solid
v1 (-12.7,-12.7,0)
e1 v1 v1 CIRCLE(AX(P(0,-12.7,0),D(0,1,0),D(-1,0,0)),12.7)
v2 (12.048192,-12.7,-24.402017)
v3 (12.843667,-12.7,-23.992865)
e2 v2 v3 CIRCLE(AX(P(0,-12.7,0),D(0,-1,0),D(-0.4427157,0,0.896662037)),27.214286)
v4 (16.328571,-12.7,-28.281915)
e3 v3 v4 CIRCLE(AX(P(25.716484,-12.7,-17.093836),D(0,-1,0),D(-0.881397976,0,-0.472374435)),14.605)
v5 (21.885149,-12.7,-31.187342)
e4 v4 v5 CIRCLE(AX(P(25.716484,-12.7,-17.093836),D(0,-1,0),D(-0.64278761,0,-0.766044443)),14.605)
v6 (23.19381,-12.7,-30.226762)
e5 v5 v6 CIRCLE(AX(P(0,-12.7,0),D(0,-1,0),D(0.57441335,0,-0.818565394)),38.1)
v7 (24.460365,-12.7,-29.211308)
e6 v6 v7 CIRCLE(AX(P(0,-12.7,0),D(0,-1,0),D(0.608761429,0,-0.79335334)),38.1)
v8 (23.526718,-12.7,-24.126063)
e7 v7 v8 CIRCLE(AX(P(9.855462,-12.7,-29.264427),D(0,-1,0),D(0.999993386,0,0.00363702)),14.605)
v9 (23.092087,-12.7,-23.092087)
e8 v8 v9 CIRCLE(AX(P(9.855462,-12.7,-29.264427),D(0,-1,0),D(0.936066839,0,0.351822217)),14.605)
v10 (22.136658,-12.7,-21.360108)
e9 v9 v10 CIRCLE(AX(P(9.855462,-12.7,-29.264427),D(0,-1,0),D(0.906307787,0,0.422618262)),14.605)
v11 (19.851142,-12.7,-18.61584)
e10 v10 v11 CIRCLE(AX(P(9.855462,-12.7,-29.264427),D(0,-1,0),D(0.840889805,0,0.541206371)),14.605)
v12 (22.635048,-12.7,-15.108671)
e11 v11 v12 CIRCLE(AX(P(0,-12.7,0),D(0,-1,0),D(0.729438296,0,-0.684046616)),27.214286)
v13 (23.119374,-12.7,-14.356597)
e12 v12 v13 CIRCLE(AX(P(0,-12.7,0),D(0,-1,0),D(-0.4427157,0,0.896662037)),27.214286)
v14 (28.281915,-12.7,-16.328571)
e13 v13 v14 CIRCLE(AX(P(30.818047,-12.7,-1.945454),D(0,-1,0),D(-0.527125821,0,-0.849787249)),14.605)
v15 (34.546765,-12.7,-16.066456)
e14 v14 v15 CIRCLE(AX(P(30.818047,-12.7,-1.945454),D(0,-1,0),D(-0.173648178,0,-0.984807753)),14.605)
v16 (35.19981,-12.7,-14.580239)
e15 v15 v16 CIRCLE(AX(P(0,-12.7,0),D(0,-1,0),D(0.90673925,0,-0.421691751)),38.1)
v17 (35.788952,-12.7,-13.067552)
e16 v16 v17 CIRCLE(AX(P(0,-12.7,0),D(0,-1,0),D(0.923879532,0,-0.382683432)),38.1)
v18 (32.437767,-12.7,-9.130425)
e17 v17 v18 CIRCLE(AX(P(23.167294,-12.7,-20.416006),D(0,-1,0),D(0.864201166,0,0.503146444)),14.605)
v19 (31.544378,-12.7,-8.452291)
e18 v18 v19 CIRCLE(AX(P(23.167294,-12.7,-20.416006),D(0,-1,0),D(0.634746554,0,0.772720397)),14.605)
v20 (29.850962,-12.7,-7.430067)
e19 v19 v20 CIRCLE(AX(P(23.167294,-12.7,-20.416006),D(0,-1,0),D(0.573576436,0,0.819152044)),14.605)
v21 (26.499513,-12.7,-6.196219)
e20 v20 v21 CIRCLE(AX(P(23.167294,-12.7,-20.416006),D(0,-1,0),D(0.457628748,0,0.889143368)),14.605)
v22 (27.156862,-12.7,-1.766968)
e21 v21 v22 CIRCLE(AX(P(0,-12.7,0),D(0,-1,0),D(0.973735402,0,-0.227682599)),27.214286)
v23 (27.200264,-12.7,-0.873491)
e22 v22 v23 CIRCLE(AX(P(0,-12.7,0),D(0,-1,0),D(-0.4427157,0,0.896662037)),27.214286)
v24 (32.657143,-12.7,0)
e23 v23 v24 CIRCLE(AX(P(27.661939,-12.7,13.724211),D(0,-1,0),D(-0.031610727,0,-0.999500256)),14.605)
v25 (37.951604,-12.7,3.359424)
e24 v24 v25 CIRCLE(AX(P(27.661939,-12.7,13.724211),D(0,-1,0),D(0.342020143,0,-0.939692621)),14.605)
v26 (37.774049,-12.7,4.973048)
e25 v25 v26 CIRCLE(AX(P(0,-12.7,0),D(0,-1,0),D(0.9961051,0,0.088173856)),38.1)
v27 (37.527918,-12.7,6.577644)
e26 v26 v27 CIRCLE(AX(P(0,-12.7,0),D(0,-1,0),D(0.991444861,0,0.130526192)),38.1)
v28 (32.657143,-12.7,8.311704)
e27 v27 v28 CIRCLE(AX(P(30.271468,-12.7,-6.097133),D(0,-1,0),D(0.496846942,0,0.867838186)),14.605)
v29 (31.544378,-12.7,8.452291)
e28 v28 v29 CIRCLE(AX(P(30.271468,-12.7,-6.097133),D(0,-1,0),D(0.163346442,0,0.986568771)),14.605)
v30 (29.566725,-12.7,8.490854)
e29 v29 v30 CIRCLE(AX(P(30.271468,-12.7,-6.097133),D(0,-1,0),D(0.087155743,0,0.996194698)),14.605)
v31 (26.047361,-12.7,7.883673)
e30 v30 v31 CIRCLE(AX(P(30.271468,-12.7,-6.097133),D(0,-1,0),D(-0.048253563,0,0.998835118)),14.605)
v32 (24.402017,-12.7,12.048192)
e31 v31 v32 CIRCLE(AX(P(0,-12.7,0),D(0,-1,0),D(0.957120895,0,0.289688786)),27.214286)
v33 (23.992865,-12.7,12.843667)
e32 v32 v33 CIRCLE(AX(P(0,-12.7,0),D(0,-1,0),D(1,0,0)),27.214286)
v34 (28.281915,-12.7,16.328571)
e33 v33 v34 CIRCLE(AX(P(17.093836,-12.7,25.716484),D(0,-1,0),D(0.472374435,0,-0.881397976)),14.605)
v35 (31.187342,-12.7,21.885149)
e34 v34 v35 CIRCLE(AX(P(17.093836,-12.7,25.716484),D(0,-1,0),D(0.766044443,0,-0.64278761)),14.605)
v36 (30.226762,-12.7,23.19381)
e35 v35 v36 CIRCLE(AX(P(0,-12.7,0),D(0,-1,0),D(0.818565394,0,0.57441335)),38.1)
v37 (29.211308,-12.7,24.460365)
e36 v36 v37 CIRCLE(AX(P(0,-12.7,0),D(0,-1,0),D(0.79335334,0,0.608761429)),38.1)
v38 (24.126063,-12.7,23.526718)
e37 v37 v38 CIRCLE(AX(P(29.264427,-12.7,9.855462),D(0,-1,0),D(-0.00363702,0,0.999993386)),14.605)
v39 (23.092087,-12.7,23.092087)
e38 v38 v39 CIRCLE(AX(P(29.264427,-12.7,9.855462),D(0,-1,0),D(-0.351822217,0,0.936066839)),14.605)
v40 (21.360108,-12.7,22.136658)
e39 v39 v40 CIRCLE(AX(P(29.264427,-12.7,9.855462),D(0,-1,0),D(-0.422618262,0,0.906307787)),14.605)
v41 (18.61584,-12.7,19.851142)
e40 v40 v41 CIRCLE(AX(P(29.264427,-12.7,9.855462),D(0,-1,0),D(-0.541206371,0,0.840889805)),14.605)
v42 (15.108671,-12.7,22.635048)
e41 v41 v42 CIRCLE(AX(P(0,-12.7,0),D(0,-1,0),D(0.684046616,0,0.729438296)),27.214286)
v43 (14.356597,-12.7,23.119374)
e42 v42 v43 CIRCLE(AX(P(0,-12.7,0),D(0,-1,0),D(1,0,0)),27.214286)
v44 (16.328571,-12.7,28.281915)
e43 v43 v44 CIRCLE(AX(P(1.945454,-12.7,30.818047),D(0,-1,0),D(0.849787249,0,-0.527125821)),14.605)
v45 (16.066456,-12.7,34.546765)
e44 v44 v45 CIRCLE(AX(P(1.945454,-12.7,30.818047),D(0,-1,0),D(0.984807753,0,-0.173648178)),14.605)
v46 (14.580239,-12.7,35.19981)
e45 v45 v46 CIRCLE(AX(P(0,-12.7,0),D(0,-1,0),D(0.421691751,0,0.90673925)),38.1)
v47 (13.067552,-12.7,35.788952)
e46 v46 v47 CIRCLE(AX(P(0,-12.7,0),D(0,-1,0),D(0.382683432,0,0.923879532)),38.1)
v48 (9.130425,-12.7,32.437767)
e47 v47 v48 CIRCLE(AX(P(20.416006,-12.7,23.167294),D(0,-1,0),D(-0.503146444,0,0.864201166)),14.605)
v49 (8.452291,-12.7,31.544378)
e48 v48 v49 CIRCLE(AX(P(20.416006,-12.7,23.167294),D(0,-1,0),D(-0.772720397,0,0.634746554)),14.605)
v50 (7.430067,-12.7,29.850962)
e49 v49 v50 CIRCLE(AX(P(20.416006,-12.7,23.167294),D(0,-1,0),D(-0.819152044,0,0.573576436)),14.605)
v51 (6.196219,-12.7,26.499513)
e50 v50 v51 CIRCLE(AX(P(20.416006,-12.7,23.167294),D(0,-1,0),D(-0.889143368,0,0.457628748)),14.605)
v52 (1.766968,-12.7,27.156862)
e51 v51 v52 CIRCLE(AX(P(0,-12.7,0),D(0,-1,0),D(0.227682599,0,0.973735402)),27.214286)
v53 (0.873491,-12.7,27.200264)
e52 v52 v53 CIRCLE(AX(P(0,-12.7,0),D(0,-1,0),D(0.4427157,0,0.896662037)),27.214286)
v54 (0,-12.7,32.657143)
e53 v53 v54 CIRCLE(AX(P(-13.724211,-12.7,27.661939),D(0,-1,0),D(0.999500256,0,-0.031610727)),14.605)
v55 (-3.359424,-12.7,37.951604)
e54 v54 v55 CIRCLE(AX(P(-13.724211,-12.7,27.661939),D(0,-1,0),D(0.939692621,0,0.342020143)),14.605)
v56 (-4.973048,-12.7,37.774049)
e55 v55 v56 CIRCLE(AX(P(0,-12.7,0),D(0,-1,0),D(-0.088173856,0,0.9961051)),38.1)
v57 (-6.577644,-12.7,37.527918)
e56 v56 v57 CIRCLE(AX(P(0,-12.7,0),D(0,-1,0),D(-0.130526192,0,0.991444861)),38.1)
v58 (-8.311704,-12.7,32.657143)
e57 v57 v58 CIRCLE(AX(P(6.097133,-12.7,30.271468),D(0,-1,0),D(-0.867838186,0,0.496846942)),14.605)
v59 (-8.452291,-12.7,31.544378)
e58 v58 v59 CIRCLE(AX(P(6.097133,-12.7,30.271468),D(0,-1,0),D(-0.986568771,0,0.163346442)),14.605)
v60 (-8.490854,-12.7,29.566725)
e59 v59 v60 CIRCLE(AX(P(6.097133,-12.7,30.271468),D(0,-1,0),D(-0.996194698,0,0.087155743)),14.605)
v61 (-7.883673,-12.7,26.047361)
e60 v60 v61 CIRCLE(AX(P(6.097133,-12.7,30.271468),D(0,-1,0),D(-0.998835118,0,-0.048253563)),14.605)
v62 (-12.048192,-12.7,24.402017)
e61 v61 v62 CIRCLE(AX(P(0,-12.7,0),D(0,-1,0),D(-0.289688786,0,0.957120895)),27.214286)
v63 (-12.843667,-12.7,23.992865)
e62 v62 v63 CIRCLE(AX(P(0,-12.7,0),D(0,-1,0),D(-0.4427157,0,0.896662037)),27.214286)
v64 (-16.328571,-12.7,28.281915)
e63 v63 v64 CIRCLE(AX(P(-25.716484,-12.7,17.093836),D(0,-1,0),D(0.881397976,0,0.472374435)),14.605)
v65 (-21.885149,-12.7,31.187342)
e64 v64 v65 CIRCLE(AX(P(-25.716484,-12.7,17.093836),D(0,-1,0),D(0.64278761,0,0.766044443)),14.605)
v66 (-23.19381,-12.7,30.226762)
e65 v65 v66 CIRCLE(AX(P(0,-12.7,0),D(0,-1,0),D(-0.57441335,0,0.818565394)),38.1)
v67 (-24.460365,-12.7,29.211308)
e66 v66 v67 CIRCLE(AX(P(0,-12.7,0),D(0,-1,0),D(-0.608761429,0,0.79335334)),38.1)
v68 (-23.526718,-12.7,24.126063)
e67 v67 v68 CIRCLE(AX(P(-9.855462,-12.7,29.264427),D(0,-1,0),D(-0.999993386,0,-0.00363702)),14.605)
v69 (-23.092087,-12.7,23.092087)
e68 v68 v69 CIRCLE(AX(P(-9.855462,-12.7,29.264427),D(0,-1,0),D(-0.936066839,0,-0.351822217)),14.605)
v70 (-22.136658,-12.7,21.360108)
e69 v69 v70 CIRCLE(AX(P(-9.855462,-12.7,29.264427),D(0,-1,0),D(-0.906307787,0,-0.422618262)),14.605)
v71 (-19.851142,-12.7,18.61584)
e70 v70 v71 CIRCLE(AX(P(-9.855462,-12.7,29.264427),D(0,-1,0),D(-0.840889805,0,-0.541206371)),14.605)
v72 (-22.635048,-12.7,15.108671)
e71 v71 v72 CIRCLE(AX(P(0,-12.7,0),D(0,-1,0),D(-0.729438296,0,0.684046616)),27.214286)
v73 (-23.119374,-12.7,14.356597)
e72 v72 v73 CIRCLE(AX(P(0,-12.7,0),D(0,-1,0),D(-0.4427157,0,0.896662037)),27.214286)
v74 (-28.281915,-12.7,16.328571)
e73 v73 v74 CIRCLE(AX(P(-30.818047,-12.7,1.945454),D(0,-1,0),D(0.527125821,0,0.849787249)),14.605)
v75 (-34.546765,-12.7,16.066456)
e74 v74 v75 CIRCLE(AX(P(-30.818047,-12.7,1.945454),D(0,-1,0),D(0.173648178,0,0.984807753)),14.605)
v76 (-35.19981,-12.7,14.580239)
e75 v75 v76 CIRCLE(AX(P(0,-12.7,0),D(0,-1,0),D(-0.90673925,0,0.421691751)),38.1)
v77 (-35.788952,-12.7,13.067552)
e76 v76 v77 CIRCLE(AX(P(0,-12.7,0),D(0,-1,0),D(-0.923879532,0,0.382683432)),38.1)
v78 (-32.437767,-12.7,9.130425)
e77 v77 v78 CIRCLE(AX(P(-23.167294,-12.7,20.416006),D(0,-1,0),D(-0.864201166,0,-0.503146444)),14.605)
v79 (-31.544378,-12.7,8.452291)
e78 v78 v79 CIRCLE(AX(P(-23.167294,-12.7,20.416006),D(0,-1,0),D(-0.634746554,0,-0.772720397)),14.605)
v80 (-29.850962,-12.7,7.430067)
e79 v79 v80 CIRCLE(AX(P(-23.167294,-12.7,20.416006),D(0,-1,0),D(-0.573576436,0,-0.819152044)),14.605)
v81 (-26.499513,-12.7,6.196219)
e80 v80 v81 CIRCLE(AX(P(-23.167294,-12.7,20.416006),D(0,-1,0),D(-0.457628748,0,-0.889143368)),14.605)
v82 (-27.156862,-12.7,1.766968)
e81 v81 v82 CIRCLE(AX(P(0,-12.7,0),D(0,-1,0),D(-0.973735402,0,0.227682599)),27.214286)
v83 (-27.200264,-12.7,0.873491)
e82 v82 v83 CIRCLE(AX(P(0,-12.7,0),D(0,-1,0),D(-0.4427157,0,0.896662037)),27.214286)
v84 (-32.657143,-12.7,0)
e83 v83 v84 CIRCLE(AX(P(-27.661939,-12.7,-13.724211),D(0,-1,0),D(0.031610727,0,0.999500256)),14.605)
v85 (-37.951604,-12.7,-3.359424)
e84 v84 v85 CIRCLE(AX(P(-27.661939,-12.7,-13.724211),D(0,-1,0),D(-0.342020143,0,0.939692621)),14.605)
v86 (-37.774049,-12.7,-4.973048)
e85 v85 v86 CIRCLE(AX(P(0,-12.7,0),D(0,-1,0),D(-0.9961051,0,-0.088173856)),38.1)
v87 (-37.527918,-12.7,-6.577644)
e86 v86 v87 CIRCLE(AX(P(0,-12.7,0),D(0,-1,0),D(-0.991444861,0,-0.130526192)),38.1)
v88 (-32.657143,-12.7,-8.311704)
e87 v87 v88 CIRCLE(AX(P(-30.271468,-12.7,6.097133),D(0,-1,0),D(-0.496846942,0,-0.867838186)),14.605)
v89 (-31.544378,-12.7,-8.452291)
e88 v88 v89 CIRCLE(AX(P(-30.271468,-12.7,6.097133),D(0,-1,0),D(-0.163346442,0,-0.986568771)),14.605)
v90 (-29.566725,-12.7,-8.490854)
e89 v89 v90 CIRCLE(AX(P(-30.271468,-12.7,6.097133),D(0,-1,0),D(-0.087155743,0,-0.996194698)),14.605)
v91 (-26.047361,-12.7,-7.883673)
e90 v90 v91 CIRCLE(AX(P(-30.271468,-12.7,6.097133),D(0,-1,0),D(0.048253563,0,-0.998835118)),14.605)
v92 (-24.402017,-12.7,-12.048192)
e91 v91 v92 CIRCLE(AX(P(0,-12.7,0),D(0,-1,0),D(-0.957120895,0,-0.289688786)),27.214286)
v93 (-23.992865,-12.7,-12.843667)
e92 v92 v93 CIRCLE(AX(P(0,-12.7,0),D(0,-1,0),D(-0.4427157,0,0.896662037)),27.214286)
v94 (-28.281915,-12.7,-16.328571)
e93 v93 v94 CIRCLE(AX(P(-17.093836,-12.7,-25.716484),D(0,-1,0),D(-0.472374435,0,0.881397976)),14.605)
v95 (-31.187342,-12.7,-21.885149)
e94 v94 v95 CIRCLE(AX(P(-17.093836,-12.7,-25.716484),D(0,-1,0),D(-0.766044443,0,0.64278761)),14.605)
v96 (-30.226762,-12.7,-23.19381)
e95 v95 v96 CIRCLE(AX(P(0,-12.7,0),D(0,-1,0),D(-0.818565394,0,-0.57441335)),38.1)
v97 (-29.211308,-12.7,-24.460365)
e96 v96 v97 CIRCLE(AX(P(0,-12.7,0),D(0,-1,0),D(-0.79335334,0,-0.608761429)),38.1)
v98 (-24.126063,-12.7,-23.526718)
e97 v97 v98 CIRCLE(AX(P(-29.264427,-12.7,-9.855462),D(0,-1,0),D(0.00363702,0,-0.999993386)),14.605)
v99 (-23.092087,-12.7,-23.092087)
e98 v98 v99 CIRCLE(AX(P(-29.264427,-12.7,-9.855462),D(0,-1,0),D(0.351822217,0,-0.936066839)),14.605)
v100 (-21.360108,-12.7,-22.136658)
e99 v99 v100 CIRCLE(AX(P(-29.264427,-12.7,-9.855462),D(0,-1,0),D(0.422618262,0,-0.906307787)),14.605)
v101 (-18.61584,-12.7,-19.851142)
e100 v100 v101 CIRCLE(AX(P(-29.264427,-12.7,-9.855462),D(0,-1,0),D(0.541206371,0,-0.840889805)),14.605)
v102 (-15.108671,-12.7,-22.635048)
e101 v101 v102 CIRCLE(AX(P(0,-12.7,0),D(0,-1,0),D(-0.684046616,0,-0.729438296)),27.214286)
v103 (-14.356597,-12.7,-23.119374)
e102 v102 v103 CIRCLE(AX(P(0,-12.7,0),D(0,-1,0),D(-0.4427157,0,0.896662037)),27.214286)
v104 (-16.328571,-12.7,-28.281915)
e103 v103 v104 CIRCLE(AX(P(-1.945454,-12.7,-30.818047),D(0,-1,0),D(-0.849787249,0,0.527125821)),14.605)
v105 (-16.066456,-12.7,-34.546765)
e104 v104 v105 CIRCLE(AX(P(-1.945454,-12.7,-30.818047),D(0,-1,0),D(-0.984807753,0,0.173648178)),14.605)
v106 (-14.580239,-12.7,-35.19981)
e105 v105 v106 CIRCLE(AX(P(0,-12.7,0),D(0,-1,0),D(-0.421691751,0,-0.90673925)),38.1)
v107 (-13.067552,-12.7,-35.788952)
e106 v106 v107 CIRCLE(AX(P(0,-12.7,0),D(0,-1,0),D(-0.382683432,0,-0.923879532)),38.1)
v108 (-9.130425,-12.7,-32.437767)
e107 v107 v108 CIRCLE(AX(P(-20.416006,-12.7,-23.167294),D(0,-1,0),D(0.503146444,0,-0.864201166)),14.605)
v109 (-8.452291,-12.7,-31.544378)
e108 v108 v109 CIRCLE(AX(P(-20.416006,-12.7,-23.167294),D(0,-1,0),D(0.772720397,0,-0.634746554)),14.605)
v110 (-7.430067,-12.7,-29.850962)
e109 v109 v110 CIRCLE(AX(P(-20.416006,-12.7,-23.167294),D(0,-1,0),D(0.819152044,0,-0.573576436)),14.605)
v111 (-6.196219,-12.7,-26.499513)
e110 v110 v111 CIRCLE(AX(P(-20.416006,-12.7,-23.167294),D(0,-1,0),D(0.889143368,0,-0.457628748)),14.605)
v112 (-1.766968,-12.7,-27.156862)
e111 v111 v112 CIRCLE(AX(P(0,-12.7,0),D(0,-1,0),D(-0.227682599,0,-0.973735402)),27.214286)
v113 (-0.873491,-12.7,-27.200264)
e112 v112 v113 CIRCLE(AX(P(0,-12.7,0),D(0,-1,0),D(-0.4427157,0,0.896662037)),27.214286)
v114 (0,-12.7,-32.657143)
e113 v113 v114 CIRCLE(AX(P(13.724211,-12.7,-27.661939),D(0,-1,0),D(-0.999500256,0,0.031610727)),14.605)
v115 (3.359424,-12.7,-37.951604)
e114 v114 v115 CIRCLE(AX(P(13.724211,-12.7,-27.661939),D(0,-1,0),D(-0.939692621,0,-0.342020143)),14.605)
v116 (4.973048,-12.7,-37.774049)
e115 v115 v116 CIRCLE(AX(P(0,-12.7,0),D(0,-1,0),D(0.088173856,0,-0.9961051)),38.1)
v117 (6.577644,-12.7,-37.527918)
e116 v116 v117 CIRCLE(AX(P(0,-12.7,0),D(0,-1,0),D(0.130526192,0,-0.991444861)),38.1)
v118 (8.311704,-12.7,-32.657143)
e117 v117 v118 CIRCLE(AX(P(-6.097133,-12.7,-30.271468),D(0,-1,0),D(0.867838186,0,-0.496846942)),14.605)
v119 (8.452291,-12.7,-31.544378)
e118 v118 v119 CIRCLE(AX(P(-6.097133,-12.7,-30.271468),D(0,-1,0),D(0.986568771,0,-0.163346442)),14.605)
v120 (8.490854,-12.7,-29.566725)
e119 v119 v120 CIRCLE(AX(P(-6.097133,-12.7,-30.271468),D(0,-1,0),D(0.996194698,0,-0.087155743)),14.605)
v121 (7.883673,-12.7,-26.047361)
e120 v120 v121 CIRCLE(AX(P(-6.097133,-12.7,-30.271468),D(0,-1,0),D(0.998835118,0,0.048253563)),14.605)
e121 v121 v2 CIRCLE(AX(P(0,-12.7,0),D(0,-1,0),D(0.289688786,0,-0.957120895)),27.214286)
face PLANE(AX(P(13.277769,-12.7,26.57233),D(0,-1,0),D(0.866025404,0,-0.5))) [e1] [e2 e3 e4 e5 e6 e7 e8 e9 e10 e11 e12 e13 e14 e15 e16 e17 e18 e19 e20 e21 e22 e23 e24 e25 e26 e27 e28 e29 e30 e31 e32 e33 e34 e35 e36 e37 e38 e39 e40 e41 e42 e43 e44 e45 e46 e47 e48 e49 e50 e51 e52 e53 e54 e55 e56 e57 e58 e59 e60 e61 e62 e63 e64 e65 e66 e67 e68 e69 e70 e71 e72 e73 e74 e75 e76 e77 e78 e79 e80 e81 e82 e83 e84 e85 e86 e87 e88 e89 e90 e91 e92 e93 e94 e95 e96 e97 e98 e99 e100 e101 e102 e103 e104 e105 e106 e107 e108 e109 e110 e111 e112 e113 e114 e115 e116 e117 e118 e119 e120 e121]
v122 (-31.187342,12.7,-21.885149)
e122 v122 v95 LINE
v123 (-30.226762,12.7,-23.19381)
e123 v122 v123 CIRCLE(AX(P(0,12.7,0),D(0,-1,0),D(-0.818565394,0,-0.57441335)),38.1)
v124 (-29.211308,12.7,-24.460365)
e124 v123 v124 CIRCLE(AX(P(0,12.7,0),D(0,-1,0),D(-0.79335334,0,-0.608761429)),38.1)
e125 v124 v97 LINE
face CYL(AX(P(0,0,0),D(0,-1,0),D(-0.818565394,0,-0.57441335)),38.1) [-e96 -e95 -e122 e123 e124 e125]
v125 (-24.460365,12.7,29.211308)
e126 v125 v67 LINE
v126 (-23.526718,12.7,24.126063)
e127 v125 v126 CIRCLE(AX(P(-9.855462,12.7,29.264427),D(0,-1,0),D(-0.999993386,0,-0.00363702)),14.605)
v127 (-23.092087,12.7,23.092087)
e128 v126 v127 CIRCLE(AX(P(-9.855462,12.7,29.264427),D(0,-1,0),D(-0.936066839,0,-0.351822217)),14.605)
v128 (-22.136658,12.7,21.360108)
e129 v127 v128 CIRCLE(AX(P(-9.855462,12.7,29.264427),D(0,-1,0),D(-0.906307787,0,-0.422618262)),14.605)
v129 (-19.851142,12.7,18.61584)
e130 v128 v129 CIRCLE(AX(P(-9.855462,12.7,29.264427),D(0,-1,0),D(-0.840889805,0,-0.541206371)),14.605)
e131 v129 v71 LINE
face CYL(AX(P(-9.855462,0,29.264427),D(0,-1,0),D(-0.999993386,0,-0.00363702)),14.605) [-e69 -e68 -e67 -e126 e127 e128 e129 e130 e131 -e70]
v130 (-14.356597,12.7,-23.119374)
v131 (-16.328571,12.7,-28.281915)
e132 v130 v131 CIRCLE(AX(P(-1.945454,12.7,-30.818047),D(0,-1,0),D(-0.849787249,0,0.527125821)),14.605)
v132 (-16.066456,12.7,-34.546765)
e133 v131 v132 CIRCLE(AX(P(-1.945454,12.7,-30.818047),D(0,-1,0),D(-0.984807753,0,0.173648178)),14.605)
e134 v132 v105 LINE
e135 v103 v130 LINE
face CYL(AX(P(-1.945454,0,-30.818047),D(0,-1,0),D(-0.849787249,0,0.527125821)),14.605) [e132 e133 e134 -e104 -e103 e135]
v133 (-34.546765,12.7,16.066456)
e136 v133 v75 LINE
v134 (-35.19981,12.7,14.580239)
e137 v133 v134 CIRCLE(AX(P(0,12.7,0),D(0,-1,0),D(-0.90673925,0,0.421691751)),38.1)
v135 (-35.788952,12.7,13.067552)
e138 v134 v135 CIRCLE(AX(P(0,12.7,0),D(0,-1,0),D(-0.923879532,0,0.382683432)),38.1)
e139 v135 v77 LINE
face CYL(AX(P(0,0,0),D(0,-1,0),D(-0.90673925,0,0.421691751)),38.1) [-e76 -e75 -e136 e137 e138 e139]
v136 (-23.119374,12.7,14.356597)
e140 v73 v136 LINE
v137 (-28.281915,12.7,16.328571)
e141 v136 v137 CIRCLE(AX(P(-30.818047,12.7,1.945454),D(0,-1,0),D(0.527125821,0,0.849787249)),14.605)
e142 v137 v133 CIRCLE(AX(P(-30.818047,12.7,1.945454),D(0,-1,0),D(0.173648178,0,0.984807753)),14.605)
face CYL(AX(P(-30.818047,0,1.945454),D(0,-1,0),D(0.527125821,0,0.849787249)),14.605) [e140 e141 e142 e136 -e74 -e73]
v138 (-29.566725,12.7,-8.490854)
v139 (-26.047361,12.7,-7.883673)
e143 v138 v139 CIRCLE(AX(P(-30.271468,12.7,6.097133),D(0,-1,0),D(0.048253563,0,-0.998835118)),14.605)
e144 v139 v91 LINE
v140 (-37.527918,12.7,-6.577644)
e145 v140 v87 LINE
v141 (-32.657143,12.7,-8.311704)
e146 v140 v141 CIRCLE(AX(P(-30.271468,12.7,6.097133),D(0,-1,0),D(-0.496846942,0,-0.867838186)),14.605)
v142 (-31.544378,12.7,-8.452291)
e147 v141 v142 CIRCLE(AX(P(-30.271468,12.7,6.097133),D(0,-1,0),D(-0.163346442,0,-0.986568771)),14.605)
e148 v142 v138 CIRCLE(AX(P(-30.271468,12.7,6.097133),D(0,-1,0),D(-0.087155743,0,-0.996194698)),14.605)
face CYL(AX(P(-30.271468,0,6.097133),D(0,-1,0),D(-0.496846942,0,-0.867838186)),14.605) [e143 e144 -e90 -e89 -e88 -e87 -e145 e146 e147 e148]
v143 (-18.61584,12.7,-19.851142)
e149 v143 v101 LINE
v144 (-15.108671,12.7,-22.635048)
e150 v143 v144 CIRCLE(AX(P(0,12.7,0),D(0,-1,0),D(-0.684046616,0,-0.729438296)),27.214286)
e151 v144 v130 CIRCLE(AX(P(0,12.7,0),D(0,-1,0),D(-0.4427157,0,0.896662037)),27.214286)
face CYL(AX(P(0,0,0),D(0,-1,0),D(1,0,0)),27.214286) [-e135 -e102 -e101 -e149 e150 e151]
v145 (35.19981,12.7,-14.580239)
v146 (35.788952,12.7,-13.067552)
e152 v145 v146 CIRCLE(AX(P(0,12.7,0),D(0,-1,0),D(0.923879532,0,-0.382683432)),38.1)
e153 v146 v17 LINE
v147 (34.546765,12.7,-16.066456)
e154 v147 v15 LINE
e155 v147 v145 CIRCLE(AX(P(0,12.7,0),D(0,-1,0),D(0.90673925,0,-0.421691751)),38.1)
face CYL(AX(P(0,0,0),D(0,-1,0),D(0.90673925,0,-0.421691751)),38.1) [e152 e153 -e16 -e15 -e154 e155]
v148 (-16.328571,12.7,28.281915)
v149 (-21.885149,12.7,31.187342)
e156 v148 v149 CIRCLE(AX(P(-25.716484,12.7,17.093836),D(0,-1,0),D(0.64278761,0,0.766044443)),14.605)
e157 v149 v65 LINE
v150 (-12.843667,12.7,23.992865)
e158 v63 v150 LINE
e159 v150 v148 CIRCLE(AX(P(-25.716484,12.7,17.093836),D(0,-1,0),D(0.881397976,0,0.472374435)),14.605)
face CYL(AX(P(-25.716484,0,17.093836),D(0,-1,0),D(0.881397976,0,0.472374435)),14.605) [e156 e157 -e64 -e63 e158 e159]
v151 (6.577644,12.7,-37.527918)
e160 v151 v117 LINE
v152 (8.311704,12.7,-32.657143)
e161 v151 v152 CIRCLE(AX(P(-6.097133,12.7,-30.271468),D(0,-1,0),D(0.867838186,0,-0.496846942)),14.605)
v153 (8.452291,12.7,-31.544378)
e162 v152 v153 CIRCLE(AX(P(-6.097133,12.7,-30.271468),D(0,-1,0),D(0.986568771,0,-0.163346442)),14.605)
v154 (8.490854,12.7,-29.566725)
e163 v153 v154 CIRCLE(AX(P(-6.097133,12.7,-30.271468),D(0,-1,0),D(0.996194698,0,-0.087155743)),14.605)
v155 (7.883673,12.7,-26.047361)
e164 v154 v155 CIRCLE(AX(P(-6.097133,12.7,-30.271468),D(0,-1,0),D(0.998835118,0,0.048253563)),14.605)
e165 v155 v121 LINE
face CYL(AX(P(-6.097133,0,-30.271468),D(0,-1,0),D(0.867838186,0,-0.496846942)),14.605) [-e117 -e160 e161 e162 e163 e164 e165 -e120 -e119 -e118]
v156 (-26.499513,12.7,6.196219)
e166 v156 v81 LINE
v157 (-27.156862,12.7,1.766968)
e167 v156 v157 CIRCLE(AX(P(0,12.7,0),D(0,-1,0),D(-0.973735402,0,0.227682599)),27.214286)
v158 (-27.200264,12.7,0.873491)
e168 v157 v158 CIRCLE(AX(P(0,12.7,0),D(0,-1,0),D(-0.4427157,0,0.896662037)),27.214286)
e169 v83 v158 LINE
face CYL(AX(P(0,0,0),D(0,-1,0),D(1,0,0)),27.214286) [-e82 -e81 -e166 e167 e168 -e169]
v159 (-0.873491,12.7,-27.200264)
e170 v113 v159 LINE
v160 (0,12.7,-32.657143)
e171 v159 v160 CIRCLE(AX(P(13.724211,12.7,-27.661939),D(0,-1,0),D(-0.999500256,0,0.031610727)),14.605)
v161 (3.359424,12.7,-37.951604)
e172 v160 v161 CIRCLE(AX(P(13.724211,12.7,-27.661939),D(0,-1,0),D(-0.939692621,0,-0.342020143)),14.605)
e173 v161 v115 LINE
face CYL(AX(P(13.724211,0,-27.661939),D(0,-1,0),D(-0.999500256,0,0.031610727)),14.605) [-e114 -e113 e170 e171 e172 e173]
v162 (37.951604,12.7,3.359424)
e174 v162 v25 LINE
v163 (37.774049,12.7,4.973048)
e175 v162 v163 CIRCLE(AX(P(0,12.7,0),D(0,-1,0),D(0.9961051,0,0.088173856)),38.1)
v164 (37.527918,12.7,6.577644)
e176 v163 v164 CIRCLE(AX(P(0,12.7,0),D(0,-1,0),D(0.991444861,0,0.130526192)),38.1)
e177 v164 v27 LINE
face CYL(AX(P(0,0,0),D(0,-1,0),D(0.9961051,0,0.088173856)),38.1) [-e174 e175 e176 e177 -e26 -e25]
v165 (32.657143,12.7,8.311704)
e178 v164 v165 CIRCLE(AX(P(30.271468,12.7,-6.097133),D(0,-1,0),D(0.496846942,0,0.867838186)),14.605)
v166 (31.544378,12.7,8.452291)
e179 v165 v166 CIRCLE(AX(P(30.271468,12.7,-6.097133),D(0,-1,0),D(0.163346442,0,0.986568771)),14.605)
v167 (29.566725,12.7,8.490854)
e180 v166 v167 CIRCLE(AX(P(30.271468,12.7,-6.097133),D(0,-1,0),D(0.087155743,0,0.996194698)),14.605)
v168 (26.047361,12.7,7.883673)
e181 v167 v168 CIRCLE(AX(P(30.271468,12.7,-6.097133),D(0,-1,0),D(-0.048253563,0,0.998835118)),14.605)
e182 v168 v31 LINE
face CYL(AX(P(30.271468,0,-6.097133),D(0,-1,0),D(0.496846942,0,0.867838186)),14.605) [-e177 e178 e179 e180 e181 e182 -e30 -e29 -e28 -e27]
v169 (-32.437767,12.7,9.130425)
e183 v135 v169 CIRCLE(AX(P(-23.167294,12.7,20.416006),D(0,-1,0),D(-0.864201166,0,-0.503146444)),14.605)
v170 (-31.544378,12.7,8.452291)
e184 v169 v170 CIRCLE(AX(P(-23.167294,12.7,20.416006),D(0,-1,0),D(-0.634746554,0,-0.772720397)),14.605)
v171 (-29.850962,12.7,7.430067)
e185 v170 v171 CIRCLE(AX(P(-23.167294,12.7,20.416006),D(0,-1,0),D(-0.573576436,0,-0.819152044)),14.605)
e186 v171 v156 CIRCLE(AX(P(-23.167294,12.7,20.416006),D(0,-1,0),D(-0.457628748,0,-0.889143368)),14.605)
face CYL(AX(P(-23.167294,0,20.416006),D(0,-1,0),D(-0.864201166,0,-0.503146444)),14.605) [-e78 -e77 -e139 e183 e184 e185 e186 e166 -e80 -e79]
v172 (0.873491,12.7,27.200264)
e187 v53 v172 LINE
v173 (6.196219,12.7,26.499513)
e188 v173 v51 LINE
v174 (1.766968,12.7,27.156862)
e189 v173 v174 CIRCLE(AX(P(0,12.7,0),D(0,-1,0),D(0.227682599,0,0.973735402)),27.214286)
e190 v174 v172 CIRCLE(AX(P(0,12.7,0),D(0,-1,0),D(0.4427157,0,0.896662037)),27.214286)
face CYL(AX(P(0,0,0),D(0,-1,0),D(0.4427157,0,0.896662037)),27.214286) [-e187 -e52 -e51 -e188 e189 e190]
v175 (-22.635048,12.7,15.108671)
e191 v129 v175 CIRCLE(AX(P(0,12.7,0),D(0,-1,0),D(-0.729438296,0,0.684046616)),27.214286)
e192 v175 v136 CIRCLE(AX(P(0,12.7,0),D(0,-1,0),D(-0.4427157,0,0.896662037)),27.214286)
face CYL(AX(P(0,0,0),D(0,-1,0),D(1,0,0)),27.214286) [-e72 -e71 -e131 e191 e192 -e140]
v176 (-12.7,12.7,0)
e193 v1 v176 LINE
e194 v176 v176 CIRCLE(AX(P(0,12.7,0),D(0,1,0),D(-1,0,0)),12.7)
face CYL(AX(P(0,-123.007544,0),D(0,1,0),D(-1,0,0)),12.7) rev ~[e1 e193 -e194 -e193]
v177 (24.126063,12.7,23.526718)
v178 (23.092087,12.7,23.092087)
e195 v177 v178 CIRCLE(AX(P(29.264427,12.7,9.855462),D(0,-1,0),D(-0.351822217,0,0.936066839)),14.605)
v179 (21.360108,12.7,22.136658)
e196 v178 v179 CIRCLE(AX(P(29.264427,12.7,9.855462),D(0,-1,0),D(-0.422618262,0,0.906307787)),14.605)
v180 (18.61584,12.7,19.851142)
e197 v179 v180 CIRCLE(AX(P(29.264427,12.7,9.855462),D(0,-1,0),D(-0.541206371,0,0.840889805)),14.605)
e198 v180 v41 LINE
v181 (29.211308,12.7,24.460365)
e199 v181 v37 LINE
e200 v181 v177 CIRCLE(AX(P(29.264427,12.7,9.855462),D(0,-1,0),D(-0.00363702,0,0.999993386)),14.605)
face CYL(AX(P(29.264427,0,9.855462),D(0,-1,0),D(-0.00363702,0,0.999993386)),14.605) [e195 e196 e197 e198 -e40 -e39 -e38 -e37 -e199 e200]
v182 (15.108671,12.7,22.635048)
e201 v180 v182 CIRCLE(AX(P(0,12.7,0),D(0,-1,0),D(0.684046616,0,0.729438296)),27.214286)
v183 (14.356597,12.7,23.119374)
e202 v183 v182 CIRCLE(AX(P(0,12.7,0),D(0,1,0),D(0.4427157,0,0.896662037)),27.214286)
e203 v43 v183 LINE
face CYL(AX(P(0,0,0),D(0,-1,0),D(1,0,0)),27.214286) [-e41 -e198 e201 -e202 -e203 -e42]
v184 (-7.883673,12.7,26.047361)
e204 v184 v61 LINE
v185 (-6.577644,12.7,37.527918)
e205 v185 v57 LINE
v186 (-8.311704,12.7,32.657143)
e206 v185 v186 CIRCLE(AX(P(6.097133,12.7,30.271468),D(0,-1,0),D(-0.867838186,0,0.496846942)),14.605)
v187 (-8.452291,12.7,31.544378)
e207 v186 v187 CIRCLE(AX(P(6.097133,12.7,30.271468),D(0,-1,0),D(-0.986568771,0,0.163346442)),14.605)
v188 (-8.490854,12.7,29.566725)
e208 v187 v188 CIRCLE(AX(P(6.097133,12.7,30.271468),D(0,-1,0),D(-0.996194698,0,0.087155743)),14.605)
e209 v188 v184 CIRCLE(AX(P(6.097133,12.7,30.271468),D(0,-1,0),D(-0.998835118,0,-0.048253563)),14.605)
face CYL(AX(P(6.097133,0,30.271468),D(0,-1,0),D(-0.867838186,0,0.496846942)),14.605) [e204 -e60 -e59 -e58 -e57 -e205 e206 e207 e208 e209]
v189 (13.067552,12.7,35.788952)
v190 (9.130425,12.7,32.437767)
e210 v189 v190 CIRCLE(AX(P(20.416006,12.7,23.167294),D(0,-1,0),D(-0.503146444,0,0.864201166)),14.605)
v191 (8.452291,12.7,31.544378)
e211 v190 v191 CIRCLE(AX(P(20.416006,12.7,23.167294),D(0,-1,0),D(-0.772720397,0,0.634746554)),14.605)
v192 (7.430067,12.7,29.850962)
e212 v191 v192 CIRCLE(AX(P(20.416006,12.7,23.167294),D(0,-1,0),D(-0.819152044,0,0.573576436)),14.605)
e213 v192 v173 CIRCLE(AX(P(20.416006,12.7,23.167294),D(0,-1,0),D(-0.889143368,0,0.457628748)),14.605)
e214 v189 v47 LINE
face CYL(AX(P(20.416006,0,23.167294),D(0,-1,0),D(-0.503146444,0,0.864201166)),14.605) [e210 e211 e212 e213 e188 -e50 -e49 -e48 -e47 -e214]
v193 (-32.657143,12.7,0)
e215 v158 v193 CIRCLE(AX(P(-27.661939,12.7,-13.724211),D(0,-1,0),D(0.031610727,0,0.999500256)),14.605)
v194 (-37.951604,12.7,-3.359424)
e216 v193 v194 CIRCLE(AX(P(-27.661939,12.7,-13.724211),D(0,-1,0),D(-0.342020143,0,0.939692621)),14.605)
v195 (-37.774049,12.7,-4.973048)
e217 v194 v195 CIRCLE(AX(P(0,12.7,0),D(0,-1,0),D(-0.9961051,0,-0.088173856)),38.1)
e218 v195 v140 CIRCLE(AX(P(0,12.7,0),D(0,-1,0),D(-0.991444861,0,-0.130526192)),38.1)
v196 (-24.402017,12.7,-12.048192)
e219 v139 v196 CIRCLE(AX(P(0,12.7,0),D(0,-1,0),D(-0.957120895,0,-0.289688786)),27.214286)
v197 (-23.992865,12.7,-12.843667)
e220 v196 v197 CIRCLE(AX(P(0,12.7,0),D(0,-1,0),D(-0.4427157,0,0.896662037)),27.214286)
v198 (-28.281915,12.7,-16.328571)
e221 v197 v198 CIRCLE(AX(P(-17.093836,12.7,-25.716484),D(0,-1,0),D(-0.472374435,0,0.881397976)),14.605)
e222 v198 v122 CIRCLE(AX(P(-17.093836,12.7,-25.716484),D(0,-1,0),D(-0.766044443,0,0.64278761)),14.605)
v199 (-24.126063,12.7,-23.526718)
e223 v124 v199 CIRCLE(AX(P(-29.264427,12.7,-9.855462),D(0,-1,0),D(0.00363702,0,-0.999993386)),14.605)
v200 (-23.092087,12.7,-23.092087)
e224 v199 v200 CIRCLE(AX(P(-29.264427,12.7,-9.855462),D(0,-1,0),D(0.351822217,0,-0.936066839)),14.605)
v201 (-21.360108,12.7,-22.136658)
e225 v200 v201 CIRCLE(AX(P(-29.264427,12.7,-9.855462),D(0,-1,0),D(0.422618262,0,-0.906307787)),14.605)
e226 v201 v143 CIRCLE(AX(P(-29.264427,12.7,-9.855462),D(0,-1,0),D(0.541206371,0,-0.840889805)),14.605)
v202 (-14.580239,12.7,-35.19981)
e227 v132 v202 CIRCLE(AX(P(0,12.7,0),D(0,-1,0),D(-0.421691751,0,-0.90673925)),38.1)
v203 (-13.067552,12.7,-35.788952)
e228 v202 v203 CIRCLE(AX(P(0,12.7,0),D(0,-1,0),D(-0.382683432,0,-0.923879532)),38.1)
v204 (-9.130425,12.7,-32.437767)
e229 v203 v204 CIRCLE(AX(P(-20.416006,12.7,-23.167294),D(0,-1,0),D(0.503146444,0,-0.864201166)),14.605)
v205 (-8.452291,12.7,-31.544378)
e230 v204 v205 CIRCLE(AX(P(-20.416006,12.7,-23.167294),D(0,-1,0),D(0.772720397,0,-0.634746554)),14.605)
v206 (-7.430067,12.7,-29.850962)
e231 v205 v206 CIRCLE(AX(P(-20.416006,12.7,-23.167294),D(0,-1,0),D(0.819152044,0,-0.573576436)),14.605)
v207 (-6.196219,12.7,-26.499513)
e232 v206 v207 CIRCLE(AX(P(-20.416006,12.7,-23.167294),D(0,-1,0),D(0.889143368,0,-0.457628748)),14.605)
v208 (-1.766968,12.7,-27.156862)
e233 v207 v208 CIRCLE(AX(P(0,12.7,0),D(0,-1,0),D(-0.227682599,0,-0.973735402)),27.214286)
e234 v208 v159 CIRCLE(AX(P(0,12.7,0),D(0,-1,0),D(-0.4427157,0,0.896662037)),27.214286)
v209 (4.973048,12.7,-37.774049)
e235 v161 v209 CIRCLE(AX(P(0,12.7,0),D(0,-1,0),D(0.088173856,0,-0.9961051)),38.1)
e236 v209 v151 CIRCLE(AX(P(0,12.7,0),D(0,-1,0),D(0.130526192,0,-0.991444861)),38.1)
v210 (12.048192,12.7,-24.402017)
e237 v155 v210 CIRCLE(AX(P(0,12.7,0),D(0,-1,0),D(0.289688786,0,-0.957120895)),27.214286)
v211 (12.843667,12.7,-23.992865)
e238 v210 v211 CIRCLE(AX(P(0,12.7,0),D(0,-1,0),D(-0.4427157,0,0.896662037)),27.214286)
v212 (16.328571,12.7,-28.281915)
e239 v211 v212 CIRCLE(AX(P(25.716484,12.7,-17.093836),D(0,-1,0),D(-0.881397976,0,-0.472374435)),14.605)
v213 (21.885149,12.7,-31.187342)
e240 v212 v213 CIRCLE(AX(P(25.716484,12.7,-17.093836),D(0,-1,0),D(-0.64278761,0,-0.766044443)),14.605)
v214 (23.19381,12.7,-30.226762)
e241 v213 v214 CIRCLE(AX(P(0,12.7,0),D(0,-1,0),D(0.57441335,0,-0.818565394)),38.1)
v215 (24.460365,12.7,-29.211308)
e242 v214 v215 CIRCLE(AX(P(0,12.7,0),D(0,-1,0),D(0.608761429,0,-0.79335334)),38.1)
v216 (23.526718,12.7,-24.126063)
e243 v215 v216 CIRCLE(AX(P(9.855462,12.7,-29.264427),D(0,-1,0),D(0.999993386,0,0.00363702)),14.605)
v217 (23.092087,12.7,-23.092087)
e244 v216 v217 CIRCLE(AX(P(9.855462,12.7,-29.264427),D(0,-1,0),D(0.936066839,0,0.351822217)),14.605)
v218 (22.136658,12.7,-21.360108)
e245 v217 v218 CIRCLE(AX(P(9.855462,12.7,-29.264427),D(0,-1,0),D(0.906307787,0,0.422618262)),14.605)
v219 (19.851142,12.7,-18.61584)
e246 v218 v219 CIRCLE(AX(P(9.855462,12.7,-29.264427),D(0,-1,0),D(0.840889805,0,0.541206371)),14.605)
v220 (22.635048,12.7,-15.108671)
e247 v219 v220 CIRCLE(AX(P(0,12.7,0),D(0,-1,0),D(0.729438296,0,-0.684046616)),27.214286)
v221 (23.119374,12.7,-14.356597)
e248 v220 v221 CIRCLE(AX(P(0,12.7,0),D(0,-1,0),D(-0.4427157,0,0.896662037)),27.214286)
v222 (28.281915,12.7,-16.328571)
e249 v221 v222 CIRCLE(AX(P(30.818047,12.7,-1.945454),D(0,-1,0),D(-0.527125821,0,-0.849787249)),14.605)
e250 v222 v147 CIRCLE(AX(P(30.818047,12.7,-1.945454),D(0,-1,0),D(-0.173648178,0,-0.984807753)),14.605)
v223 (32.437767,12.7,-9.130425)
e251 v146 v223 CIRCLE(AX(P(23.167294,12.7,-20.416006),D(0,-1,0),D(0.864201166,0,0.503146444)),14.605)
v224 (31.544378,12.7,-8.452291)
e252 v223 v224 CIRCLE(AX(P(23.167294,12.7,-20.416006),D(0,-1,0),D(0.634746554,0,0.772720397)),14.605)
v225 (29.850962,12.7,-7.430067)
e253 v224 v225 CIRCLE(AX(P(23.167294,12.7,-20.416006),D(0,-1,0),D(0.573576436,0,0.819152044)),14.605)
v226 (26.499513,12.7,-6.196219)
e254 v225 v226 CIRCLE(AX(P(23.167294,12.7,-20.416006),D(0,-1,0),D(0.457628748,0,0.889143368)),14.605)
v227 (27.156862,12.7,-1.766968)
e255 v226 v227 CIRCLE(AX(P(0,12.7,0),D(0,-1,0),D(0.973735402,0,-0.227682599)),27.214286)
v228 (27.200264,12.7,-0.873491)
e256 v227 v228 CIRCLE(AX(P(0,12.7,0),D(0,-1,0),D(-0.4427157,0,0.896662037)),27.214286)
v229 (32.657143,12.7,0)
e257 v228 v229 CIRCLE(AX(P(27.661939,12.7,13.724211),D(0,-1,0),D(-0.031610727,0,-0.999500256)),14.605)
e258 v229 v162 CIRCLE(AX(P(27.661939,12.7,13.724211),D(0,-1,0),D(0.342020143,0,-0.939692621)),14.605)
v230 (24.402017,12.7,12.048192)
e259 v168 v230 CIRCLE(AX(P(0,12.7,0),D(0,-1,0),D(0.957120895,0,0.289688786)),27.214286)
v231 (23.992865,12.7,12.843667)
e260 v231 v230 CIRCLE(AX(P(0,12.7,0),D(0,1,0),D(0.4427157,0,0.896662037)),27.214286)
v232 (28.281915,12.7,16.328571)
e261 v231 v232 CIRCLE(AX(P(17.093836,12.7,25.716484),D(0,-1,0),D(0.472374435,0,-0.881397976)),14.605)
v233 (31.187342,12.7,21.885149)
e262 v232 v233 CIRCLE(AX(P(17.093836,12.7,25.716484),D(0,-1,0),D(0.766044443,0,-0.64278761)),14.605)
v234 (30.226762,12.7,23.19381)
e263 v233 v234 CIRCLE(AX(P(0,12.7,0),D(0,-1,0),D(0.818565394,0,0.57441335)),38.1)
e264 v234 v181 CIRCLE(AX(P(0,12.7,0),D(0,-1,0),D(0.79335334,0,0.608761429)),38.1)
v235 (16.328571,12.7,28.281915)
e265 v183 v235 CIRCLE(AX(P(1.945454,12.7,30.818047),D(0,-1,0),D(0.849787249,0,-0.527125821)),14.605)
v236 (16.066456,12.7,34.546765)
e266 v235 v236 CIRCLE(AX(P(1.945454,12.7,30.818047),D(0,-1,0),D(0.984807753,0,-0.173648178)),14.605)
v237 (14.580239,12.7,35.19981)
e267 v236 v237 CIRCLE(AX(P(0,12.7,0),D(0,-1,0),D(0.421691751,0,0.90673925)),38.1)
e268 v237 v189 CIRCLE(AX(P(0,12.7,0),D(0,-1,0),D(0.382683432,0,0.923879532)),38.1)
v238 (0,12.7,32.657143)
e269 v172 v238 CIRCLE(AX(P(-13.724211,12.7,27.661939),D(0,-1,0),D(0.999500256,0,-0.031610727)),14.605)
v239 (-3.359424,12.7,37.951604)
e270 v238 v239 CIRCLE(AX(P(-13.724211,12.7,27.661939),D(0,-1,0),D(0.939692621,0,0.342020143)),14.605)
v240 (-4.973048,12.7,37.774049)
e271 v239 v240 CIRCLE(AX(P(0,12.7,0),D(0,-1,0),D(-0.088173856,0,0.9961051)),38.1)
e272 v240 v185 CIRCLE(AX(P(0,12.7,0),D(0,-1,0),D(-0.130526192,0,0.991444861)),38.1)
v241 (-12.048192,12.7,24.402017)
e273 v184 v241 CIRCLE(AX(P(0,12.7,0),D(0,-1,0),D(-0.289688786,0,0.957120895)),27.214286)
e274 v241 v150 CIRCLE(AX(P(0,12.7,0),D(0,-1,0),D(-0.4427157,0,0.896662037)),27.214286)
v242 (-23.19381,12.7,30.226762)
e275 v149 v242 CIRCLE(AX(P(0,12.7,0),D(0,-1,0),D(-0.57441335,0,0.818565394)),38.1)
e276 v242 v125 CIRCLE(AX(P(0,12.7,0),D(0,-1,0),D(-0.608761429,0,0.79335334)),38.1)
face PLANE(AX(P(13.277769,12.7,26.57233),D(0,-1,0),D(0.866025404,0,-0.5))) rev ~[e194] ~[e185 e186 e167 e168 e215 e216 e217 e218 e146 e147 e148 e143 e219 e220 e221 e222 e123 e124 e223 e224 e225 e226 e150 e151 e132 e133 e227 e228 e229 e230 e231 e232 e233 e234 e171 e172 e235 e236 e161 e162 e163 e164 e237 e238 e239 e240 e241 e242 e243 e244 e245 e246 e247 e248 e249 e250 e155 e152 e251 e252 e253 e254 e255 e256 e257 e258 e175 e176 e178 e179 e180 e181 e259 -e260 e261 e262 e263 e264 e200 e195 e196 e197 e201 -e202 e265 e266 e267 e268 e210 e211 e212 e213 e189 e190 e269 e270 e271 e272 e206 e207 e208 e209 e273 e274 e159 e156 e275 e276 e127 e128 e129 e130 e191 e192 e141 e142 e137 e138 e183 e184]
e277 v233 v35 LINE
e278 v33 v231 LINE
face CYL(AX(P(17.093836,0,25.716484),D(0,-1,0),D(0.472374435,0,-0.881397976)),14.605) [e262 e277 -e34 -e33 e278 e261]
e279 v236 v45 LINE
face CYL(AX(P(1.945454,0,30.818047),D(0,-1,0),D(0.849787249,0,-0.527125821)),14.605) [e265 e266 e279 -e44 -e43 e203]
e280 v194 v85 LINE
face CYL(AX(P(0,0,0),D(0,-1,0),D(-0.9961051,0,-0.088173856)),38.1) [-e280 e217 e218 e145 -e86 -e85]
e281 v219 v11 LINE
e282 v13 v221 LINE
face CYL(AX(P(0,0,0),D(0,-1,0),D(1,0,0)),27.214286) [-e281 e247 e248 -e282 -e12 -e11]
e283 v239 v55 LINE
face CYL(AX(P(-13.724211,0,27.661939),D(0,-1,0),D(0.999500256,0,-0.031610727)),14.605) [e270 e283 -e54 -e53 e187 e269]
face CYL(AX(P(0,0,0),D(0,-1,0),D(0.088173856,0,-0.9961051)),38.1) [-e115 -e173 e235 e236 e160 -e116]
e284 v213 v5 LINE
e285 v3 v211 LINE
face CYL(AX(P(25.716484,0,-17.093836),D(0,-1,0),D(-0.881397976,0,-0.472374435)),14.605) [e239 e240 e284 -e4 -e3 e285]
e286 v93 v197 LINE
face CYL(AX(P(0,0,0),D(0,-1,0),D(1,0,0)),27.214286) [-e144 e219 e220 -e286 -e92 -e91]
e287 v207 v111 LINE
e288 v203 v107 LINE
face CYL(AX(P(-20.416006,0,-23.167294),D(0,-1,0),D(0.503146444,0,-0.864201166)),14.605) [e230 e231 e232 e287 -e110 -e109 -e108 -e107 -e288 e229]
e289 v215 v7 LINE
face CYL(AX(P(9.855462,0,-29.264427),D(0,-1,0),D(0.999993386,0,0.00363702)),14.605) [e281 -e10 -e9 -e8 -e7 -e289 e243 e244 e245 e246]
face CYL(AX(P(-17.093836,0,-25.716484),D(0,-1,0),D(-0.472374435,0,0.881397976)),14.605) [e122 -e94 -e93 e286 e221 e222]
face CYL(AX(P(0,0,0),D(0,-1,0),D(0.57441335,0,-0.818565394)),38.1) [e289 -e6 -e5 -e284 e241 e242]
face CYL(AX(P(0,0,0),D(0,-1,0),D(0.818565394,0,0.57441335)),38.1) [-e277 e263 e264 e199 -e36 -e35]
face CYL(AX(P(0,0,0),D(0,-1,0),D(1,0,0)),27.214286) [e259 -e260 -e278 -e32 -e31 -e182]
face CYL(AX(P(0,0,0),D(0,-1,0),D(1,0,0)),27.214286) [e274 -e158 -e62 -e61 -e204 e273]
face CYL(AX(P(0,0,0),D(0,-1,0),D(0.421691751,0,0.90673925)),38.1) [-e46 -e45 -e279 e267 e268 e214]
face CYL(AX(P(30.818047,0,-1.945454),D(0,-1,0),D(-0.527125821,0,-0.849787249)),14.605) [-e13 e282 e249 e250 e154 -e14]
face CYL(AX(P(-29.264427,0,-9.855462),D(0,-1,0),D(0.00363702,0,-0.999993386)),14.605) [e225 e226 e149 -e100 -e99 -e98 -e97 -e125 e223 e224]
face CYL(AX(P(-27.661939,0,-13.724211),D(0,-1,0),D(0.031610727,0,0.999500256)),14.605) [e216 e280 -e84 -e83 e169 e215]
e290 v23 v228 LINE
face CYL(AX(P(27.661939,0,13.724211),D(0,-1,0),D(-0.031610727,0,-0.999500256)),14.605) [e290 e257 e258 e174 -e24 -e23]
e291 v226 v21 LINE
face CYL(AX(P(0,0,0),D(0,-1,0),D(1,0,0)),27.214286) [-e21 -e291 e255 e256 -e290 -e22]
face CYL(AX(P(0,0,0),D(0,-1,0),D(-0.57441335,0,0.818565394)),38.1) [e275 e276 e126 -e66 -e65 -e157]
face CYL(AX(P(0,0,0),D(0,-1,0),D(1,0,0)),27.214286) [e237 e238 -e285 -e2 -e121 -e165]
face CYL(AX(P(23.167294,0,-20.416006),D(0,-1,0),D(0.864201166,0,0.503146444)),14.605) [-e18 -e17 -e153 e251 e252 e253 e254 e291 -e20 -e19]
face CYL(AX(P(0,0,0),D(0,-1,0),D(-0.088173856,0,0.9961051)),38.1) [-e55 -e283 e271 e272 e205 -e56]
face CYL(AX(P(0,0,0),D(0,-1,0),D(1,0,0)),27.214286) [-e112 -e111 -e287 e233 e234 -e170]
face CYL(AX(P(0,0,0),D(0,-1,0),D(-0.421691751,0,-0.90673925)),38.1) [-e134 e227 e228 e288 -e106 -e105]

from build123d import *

# Parameters (mm, degrees)
F2_DEPTH = 12.7
F3_COUNT = 12
F3_ANGLE = 330
F5_D     = 25.4


with BuildPart() as f2:
    # F1 (on Front) → F2 (new body, symmetric)
    with BuildSketch(Plane.XZ):
        with BuildLine():
            Line((0, 27.2142857143), (0, 32.6571428571))
            Line((0, 32.6571428571), (-4.1027982168, 31.163846429))
            Line((-4.1027982168, 31.163846429), (-3.5521770883, 26.9814637274))
            ThreePointArc((-3.5521770883, 26.9814637274), (-1.7798994455, 27.1560178396), (0, 27.2142857143))
        make_face()
        with BuildLine():
            Line((-3.5521770883, 26.9814637274), (-4.1027982168, 31.163846429))
            Line((-4.1027982168, 31.163846429), (-8.4908538679, 29.5667247857))
            ThreePointArc((-8.4908538679, 29.5667247857), (-8.2952422965, 27.7884140488), (-7.8836733992, 26.0473614916))
            ThreePointArc((-7.8836733992, 26.0473614916), (-5.7369683492, 26.6027167992), (-3.5521770883, 26.9814637274))
        make_face()
        with BuildLine():
            Line((-4.1027982168, 31.163846429), (-4.2626125059, 32.3777564729))
            ThreePointArc((-4.2626125059, 32.3777564729), (-6.3710925161, 32.0296450143), (-8.4522905301, 31.5443776985))
            ThreePointArc((-8.4522905301, 31.5443776985), (-8.5050911091, 30.5562048457), (-8.4908538679, 29.5667247857))
            Line((-8.4908538679, 29.5667247857), (-4.1027982168, 31.163846429))
        make_face()
        with BuildLine():
            ThreePointArc((-8.4522905301, 31.5443776985), (-6.3710925161, 32.0296450143), (-4.2626125059, 32.3777564729))
            Line((-4.2626125059, 32.3777564729), (-4.2993944212, 32.6571428571))
            Line((-4.2993944212, 32.6571428571), (-8.3117038653, 32.6571428571))
            ThreePointArc((-8.3117038653, 32.6571428571), (-8.3926831774, 32.1021103437), (-8.4522905301, 31.5443776985))
        make_face()
        with BuildLine():
            Line((-4.1027982168, 31.163846429), (0, 32.6571428571))
            ThreePointArc((0, 32.6571428571), (-2.1358793346, 32.5872214075), (-4.2626125059, 32.3777564729))
            Line((-4.2626125059, 32.3777564729), (-4.1027982168, 31.163846429))
        make_face()
        with BuildLine():
            ThreePointArc((-4.2626125059, 32.3777564729), (-2.1358793346, 32.5872214075), (0, 32.6571428571))
            Line((0, 32.6571428571), (-4.2993944212, 32.6571428571))
            Line((-4.2993944212, 32.6571428571), (-4.2626125059, 32.3777564729))
        make_face()
        with BuildLine():
            ThreePointArc((0, 32.6571428571), (-1.3922286837, 35.486786515), (-3.3594239194, 37.9516043262))
            ThreePointArc((-3.3594239194, 37.9516043262), (-4.1671816864, 37.8714219009), (-4.9730479236, 37.7740492183))
            Line((-4.9730479236, 37.7740492183), (-4.2993944212, 32.6571428571))
            Line((-4.2993944212, 32.6571428571), (0, 32.6571428571))
        make_face()
        with BuildLine():
            Line((-4.2993944212, 32.6571428571), (-4.9730479236, 37.7740492183))
            ThreePointArc((-4.9730479236, 37.7740492183), (-5.7766568393, 37.6595304772), (-6.5776436666, 37.5279176587))
            ThreePointArc((-6.5776436666, 37.5279176587), (-7.661923736, 35.1698741183), (-8.3117038653, 32.6571428571))
            Line((-8.3117038653, 32.6571428571), (-4.2993944212, 32.6571428571))
        make_face()
        with BuildLine():
            ThreePointArc((0.8734905136, 27.2002639925), (0.6971989167, 29.9703946199), (0, 32.6571428571))
            Line((0, 32.6571428571), (0, 27.2142857143))
            ThreePointArc((0, 27.2142857143), (0.4368015242, 27.210780058), (0.8734905136, 27.2002639925))
        make_face()
        with BuildLine():
            ThreePointArc((27.2142857143, 0), (23.1138516304, 14.3654867564), (12.0481915595, 24.4020168651))
            ThreePointArc((12.0481915595, 24.4020168651), (6.8095488061, 19.7367686343), (0, 18.0521428571))
            Line((0, 18.0521428571), (0, 0))
            Line((0, 0), (-2.402809942, 18.2511534992))
            ThreePointArc((-2.402809942, 18.2511534992), (-7.8527791982, 20.3429281496), (-12.0481915595, 24.4020168651))
            ThreePointArc((-12.0481915595, 24.4020168651), (-14.3654867564, -23.1138516304), (27.2142857143, 0))
        make_face()
        with BuildLine():
            ThreePointArc((-7.8836733992, 26.0473614916), (-9.9998299945, 25.3104868981), (-12.0481915595, 24.4020168651))
            ThreePointArc((-12.0481915595, 24.4020168651), (-7.8527791982, 20.3429281496), (-2.402809942, 18.2511534992))
            Line((-2.402809942, 18.2511534992), (-3.5521770883, 26.9814637274))
            ThreePointArc((-3.5521770883, 26.9814637274), (-5.7369683492, 26.6027167992), (-7.8836733992, 26.0473614916))
        make_face()
        with BuildLine():
            Line((0, 18.0521428571), (0, 27.2142857143))
            ThreePointArc((0, 27.2142857143), (-1.7798994455, 27.1560178396), (-3.5521770883, 26.9814637274))
            Line((-3.5521770883, 26.9814637274), (-2.402809942, 18.2511534992))
            ThreePointArc((-2.402809942, 18.2511534992), (-1.2055186491, 18.10198055), (0, 18.0521428571))
        make_face()
        with BuildLine():
            Line((0, 0), (0, 18.0521428571))
            ThreePointArc((0, 18.0521428571), (-1.2055186491, 18.10198055), (-2.402809942, 18.2511534992))
            Line((-2.402809942, 18.2511534992), (0, 0))
        make_face()
        with BuildLine():
            ThreePointArc((0.8734905136, 27.2002639925), (0.4368015242, 27.210780058), (0, 27.2142857143))
            Line((0, 27.2142857143), (0, 18.0521428571))
            ThreePointArc((0, 18.0521428571), (6.8095488061, 19.7367686343), (12.0481915595, 24.4020168651))
            ThreePointArc((12.0481915595, 24.4020168651), (6.6105985846, 26.399191906), (0.8734905136, 27.2002639925))
        make_face()
    extrude(amount=F2_DEPTH, both=True)

    # F3: F2 ×12 about axis
    f3_axis = Axis((0, 0, 0), (0, -1, 0))


with BuildPart() as f2_1:
    add(f2.part)
    for i in range(1, F3_COUNT):
        add(f2.part.rotate(f3_axis, i * F3_ANGLE / (F3_COUNT - 1)))

    # F5 (through all)
    with Locations(Plane.XZ.offset(12.7)):
        with Locations((0, 0)):
            Hole(F5_D / 2)


solid = f2_1.part
